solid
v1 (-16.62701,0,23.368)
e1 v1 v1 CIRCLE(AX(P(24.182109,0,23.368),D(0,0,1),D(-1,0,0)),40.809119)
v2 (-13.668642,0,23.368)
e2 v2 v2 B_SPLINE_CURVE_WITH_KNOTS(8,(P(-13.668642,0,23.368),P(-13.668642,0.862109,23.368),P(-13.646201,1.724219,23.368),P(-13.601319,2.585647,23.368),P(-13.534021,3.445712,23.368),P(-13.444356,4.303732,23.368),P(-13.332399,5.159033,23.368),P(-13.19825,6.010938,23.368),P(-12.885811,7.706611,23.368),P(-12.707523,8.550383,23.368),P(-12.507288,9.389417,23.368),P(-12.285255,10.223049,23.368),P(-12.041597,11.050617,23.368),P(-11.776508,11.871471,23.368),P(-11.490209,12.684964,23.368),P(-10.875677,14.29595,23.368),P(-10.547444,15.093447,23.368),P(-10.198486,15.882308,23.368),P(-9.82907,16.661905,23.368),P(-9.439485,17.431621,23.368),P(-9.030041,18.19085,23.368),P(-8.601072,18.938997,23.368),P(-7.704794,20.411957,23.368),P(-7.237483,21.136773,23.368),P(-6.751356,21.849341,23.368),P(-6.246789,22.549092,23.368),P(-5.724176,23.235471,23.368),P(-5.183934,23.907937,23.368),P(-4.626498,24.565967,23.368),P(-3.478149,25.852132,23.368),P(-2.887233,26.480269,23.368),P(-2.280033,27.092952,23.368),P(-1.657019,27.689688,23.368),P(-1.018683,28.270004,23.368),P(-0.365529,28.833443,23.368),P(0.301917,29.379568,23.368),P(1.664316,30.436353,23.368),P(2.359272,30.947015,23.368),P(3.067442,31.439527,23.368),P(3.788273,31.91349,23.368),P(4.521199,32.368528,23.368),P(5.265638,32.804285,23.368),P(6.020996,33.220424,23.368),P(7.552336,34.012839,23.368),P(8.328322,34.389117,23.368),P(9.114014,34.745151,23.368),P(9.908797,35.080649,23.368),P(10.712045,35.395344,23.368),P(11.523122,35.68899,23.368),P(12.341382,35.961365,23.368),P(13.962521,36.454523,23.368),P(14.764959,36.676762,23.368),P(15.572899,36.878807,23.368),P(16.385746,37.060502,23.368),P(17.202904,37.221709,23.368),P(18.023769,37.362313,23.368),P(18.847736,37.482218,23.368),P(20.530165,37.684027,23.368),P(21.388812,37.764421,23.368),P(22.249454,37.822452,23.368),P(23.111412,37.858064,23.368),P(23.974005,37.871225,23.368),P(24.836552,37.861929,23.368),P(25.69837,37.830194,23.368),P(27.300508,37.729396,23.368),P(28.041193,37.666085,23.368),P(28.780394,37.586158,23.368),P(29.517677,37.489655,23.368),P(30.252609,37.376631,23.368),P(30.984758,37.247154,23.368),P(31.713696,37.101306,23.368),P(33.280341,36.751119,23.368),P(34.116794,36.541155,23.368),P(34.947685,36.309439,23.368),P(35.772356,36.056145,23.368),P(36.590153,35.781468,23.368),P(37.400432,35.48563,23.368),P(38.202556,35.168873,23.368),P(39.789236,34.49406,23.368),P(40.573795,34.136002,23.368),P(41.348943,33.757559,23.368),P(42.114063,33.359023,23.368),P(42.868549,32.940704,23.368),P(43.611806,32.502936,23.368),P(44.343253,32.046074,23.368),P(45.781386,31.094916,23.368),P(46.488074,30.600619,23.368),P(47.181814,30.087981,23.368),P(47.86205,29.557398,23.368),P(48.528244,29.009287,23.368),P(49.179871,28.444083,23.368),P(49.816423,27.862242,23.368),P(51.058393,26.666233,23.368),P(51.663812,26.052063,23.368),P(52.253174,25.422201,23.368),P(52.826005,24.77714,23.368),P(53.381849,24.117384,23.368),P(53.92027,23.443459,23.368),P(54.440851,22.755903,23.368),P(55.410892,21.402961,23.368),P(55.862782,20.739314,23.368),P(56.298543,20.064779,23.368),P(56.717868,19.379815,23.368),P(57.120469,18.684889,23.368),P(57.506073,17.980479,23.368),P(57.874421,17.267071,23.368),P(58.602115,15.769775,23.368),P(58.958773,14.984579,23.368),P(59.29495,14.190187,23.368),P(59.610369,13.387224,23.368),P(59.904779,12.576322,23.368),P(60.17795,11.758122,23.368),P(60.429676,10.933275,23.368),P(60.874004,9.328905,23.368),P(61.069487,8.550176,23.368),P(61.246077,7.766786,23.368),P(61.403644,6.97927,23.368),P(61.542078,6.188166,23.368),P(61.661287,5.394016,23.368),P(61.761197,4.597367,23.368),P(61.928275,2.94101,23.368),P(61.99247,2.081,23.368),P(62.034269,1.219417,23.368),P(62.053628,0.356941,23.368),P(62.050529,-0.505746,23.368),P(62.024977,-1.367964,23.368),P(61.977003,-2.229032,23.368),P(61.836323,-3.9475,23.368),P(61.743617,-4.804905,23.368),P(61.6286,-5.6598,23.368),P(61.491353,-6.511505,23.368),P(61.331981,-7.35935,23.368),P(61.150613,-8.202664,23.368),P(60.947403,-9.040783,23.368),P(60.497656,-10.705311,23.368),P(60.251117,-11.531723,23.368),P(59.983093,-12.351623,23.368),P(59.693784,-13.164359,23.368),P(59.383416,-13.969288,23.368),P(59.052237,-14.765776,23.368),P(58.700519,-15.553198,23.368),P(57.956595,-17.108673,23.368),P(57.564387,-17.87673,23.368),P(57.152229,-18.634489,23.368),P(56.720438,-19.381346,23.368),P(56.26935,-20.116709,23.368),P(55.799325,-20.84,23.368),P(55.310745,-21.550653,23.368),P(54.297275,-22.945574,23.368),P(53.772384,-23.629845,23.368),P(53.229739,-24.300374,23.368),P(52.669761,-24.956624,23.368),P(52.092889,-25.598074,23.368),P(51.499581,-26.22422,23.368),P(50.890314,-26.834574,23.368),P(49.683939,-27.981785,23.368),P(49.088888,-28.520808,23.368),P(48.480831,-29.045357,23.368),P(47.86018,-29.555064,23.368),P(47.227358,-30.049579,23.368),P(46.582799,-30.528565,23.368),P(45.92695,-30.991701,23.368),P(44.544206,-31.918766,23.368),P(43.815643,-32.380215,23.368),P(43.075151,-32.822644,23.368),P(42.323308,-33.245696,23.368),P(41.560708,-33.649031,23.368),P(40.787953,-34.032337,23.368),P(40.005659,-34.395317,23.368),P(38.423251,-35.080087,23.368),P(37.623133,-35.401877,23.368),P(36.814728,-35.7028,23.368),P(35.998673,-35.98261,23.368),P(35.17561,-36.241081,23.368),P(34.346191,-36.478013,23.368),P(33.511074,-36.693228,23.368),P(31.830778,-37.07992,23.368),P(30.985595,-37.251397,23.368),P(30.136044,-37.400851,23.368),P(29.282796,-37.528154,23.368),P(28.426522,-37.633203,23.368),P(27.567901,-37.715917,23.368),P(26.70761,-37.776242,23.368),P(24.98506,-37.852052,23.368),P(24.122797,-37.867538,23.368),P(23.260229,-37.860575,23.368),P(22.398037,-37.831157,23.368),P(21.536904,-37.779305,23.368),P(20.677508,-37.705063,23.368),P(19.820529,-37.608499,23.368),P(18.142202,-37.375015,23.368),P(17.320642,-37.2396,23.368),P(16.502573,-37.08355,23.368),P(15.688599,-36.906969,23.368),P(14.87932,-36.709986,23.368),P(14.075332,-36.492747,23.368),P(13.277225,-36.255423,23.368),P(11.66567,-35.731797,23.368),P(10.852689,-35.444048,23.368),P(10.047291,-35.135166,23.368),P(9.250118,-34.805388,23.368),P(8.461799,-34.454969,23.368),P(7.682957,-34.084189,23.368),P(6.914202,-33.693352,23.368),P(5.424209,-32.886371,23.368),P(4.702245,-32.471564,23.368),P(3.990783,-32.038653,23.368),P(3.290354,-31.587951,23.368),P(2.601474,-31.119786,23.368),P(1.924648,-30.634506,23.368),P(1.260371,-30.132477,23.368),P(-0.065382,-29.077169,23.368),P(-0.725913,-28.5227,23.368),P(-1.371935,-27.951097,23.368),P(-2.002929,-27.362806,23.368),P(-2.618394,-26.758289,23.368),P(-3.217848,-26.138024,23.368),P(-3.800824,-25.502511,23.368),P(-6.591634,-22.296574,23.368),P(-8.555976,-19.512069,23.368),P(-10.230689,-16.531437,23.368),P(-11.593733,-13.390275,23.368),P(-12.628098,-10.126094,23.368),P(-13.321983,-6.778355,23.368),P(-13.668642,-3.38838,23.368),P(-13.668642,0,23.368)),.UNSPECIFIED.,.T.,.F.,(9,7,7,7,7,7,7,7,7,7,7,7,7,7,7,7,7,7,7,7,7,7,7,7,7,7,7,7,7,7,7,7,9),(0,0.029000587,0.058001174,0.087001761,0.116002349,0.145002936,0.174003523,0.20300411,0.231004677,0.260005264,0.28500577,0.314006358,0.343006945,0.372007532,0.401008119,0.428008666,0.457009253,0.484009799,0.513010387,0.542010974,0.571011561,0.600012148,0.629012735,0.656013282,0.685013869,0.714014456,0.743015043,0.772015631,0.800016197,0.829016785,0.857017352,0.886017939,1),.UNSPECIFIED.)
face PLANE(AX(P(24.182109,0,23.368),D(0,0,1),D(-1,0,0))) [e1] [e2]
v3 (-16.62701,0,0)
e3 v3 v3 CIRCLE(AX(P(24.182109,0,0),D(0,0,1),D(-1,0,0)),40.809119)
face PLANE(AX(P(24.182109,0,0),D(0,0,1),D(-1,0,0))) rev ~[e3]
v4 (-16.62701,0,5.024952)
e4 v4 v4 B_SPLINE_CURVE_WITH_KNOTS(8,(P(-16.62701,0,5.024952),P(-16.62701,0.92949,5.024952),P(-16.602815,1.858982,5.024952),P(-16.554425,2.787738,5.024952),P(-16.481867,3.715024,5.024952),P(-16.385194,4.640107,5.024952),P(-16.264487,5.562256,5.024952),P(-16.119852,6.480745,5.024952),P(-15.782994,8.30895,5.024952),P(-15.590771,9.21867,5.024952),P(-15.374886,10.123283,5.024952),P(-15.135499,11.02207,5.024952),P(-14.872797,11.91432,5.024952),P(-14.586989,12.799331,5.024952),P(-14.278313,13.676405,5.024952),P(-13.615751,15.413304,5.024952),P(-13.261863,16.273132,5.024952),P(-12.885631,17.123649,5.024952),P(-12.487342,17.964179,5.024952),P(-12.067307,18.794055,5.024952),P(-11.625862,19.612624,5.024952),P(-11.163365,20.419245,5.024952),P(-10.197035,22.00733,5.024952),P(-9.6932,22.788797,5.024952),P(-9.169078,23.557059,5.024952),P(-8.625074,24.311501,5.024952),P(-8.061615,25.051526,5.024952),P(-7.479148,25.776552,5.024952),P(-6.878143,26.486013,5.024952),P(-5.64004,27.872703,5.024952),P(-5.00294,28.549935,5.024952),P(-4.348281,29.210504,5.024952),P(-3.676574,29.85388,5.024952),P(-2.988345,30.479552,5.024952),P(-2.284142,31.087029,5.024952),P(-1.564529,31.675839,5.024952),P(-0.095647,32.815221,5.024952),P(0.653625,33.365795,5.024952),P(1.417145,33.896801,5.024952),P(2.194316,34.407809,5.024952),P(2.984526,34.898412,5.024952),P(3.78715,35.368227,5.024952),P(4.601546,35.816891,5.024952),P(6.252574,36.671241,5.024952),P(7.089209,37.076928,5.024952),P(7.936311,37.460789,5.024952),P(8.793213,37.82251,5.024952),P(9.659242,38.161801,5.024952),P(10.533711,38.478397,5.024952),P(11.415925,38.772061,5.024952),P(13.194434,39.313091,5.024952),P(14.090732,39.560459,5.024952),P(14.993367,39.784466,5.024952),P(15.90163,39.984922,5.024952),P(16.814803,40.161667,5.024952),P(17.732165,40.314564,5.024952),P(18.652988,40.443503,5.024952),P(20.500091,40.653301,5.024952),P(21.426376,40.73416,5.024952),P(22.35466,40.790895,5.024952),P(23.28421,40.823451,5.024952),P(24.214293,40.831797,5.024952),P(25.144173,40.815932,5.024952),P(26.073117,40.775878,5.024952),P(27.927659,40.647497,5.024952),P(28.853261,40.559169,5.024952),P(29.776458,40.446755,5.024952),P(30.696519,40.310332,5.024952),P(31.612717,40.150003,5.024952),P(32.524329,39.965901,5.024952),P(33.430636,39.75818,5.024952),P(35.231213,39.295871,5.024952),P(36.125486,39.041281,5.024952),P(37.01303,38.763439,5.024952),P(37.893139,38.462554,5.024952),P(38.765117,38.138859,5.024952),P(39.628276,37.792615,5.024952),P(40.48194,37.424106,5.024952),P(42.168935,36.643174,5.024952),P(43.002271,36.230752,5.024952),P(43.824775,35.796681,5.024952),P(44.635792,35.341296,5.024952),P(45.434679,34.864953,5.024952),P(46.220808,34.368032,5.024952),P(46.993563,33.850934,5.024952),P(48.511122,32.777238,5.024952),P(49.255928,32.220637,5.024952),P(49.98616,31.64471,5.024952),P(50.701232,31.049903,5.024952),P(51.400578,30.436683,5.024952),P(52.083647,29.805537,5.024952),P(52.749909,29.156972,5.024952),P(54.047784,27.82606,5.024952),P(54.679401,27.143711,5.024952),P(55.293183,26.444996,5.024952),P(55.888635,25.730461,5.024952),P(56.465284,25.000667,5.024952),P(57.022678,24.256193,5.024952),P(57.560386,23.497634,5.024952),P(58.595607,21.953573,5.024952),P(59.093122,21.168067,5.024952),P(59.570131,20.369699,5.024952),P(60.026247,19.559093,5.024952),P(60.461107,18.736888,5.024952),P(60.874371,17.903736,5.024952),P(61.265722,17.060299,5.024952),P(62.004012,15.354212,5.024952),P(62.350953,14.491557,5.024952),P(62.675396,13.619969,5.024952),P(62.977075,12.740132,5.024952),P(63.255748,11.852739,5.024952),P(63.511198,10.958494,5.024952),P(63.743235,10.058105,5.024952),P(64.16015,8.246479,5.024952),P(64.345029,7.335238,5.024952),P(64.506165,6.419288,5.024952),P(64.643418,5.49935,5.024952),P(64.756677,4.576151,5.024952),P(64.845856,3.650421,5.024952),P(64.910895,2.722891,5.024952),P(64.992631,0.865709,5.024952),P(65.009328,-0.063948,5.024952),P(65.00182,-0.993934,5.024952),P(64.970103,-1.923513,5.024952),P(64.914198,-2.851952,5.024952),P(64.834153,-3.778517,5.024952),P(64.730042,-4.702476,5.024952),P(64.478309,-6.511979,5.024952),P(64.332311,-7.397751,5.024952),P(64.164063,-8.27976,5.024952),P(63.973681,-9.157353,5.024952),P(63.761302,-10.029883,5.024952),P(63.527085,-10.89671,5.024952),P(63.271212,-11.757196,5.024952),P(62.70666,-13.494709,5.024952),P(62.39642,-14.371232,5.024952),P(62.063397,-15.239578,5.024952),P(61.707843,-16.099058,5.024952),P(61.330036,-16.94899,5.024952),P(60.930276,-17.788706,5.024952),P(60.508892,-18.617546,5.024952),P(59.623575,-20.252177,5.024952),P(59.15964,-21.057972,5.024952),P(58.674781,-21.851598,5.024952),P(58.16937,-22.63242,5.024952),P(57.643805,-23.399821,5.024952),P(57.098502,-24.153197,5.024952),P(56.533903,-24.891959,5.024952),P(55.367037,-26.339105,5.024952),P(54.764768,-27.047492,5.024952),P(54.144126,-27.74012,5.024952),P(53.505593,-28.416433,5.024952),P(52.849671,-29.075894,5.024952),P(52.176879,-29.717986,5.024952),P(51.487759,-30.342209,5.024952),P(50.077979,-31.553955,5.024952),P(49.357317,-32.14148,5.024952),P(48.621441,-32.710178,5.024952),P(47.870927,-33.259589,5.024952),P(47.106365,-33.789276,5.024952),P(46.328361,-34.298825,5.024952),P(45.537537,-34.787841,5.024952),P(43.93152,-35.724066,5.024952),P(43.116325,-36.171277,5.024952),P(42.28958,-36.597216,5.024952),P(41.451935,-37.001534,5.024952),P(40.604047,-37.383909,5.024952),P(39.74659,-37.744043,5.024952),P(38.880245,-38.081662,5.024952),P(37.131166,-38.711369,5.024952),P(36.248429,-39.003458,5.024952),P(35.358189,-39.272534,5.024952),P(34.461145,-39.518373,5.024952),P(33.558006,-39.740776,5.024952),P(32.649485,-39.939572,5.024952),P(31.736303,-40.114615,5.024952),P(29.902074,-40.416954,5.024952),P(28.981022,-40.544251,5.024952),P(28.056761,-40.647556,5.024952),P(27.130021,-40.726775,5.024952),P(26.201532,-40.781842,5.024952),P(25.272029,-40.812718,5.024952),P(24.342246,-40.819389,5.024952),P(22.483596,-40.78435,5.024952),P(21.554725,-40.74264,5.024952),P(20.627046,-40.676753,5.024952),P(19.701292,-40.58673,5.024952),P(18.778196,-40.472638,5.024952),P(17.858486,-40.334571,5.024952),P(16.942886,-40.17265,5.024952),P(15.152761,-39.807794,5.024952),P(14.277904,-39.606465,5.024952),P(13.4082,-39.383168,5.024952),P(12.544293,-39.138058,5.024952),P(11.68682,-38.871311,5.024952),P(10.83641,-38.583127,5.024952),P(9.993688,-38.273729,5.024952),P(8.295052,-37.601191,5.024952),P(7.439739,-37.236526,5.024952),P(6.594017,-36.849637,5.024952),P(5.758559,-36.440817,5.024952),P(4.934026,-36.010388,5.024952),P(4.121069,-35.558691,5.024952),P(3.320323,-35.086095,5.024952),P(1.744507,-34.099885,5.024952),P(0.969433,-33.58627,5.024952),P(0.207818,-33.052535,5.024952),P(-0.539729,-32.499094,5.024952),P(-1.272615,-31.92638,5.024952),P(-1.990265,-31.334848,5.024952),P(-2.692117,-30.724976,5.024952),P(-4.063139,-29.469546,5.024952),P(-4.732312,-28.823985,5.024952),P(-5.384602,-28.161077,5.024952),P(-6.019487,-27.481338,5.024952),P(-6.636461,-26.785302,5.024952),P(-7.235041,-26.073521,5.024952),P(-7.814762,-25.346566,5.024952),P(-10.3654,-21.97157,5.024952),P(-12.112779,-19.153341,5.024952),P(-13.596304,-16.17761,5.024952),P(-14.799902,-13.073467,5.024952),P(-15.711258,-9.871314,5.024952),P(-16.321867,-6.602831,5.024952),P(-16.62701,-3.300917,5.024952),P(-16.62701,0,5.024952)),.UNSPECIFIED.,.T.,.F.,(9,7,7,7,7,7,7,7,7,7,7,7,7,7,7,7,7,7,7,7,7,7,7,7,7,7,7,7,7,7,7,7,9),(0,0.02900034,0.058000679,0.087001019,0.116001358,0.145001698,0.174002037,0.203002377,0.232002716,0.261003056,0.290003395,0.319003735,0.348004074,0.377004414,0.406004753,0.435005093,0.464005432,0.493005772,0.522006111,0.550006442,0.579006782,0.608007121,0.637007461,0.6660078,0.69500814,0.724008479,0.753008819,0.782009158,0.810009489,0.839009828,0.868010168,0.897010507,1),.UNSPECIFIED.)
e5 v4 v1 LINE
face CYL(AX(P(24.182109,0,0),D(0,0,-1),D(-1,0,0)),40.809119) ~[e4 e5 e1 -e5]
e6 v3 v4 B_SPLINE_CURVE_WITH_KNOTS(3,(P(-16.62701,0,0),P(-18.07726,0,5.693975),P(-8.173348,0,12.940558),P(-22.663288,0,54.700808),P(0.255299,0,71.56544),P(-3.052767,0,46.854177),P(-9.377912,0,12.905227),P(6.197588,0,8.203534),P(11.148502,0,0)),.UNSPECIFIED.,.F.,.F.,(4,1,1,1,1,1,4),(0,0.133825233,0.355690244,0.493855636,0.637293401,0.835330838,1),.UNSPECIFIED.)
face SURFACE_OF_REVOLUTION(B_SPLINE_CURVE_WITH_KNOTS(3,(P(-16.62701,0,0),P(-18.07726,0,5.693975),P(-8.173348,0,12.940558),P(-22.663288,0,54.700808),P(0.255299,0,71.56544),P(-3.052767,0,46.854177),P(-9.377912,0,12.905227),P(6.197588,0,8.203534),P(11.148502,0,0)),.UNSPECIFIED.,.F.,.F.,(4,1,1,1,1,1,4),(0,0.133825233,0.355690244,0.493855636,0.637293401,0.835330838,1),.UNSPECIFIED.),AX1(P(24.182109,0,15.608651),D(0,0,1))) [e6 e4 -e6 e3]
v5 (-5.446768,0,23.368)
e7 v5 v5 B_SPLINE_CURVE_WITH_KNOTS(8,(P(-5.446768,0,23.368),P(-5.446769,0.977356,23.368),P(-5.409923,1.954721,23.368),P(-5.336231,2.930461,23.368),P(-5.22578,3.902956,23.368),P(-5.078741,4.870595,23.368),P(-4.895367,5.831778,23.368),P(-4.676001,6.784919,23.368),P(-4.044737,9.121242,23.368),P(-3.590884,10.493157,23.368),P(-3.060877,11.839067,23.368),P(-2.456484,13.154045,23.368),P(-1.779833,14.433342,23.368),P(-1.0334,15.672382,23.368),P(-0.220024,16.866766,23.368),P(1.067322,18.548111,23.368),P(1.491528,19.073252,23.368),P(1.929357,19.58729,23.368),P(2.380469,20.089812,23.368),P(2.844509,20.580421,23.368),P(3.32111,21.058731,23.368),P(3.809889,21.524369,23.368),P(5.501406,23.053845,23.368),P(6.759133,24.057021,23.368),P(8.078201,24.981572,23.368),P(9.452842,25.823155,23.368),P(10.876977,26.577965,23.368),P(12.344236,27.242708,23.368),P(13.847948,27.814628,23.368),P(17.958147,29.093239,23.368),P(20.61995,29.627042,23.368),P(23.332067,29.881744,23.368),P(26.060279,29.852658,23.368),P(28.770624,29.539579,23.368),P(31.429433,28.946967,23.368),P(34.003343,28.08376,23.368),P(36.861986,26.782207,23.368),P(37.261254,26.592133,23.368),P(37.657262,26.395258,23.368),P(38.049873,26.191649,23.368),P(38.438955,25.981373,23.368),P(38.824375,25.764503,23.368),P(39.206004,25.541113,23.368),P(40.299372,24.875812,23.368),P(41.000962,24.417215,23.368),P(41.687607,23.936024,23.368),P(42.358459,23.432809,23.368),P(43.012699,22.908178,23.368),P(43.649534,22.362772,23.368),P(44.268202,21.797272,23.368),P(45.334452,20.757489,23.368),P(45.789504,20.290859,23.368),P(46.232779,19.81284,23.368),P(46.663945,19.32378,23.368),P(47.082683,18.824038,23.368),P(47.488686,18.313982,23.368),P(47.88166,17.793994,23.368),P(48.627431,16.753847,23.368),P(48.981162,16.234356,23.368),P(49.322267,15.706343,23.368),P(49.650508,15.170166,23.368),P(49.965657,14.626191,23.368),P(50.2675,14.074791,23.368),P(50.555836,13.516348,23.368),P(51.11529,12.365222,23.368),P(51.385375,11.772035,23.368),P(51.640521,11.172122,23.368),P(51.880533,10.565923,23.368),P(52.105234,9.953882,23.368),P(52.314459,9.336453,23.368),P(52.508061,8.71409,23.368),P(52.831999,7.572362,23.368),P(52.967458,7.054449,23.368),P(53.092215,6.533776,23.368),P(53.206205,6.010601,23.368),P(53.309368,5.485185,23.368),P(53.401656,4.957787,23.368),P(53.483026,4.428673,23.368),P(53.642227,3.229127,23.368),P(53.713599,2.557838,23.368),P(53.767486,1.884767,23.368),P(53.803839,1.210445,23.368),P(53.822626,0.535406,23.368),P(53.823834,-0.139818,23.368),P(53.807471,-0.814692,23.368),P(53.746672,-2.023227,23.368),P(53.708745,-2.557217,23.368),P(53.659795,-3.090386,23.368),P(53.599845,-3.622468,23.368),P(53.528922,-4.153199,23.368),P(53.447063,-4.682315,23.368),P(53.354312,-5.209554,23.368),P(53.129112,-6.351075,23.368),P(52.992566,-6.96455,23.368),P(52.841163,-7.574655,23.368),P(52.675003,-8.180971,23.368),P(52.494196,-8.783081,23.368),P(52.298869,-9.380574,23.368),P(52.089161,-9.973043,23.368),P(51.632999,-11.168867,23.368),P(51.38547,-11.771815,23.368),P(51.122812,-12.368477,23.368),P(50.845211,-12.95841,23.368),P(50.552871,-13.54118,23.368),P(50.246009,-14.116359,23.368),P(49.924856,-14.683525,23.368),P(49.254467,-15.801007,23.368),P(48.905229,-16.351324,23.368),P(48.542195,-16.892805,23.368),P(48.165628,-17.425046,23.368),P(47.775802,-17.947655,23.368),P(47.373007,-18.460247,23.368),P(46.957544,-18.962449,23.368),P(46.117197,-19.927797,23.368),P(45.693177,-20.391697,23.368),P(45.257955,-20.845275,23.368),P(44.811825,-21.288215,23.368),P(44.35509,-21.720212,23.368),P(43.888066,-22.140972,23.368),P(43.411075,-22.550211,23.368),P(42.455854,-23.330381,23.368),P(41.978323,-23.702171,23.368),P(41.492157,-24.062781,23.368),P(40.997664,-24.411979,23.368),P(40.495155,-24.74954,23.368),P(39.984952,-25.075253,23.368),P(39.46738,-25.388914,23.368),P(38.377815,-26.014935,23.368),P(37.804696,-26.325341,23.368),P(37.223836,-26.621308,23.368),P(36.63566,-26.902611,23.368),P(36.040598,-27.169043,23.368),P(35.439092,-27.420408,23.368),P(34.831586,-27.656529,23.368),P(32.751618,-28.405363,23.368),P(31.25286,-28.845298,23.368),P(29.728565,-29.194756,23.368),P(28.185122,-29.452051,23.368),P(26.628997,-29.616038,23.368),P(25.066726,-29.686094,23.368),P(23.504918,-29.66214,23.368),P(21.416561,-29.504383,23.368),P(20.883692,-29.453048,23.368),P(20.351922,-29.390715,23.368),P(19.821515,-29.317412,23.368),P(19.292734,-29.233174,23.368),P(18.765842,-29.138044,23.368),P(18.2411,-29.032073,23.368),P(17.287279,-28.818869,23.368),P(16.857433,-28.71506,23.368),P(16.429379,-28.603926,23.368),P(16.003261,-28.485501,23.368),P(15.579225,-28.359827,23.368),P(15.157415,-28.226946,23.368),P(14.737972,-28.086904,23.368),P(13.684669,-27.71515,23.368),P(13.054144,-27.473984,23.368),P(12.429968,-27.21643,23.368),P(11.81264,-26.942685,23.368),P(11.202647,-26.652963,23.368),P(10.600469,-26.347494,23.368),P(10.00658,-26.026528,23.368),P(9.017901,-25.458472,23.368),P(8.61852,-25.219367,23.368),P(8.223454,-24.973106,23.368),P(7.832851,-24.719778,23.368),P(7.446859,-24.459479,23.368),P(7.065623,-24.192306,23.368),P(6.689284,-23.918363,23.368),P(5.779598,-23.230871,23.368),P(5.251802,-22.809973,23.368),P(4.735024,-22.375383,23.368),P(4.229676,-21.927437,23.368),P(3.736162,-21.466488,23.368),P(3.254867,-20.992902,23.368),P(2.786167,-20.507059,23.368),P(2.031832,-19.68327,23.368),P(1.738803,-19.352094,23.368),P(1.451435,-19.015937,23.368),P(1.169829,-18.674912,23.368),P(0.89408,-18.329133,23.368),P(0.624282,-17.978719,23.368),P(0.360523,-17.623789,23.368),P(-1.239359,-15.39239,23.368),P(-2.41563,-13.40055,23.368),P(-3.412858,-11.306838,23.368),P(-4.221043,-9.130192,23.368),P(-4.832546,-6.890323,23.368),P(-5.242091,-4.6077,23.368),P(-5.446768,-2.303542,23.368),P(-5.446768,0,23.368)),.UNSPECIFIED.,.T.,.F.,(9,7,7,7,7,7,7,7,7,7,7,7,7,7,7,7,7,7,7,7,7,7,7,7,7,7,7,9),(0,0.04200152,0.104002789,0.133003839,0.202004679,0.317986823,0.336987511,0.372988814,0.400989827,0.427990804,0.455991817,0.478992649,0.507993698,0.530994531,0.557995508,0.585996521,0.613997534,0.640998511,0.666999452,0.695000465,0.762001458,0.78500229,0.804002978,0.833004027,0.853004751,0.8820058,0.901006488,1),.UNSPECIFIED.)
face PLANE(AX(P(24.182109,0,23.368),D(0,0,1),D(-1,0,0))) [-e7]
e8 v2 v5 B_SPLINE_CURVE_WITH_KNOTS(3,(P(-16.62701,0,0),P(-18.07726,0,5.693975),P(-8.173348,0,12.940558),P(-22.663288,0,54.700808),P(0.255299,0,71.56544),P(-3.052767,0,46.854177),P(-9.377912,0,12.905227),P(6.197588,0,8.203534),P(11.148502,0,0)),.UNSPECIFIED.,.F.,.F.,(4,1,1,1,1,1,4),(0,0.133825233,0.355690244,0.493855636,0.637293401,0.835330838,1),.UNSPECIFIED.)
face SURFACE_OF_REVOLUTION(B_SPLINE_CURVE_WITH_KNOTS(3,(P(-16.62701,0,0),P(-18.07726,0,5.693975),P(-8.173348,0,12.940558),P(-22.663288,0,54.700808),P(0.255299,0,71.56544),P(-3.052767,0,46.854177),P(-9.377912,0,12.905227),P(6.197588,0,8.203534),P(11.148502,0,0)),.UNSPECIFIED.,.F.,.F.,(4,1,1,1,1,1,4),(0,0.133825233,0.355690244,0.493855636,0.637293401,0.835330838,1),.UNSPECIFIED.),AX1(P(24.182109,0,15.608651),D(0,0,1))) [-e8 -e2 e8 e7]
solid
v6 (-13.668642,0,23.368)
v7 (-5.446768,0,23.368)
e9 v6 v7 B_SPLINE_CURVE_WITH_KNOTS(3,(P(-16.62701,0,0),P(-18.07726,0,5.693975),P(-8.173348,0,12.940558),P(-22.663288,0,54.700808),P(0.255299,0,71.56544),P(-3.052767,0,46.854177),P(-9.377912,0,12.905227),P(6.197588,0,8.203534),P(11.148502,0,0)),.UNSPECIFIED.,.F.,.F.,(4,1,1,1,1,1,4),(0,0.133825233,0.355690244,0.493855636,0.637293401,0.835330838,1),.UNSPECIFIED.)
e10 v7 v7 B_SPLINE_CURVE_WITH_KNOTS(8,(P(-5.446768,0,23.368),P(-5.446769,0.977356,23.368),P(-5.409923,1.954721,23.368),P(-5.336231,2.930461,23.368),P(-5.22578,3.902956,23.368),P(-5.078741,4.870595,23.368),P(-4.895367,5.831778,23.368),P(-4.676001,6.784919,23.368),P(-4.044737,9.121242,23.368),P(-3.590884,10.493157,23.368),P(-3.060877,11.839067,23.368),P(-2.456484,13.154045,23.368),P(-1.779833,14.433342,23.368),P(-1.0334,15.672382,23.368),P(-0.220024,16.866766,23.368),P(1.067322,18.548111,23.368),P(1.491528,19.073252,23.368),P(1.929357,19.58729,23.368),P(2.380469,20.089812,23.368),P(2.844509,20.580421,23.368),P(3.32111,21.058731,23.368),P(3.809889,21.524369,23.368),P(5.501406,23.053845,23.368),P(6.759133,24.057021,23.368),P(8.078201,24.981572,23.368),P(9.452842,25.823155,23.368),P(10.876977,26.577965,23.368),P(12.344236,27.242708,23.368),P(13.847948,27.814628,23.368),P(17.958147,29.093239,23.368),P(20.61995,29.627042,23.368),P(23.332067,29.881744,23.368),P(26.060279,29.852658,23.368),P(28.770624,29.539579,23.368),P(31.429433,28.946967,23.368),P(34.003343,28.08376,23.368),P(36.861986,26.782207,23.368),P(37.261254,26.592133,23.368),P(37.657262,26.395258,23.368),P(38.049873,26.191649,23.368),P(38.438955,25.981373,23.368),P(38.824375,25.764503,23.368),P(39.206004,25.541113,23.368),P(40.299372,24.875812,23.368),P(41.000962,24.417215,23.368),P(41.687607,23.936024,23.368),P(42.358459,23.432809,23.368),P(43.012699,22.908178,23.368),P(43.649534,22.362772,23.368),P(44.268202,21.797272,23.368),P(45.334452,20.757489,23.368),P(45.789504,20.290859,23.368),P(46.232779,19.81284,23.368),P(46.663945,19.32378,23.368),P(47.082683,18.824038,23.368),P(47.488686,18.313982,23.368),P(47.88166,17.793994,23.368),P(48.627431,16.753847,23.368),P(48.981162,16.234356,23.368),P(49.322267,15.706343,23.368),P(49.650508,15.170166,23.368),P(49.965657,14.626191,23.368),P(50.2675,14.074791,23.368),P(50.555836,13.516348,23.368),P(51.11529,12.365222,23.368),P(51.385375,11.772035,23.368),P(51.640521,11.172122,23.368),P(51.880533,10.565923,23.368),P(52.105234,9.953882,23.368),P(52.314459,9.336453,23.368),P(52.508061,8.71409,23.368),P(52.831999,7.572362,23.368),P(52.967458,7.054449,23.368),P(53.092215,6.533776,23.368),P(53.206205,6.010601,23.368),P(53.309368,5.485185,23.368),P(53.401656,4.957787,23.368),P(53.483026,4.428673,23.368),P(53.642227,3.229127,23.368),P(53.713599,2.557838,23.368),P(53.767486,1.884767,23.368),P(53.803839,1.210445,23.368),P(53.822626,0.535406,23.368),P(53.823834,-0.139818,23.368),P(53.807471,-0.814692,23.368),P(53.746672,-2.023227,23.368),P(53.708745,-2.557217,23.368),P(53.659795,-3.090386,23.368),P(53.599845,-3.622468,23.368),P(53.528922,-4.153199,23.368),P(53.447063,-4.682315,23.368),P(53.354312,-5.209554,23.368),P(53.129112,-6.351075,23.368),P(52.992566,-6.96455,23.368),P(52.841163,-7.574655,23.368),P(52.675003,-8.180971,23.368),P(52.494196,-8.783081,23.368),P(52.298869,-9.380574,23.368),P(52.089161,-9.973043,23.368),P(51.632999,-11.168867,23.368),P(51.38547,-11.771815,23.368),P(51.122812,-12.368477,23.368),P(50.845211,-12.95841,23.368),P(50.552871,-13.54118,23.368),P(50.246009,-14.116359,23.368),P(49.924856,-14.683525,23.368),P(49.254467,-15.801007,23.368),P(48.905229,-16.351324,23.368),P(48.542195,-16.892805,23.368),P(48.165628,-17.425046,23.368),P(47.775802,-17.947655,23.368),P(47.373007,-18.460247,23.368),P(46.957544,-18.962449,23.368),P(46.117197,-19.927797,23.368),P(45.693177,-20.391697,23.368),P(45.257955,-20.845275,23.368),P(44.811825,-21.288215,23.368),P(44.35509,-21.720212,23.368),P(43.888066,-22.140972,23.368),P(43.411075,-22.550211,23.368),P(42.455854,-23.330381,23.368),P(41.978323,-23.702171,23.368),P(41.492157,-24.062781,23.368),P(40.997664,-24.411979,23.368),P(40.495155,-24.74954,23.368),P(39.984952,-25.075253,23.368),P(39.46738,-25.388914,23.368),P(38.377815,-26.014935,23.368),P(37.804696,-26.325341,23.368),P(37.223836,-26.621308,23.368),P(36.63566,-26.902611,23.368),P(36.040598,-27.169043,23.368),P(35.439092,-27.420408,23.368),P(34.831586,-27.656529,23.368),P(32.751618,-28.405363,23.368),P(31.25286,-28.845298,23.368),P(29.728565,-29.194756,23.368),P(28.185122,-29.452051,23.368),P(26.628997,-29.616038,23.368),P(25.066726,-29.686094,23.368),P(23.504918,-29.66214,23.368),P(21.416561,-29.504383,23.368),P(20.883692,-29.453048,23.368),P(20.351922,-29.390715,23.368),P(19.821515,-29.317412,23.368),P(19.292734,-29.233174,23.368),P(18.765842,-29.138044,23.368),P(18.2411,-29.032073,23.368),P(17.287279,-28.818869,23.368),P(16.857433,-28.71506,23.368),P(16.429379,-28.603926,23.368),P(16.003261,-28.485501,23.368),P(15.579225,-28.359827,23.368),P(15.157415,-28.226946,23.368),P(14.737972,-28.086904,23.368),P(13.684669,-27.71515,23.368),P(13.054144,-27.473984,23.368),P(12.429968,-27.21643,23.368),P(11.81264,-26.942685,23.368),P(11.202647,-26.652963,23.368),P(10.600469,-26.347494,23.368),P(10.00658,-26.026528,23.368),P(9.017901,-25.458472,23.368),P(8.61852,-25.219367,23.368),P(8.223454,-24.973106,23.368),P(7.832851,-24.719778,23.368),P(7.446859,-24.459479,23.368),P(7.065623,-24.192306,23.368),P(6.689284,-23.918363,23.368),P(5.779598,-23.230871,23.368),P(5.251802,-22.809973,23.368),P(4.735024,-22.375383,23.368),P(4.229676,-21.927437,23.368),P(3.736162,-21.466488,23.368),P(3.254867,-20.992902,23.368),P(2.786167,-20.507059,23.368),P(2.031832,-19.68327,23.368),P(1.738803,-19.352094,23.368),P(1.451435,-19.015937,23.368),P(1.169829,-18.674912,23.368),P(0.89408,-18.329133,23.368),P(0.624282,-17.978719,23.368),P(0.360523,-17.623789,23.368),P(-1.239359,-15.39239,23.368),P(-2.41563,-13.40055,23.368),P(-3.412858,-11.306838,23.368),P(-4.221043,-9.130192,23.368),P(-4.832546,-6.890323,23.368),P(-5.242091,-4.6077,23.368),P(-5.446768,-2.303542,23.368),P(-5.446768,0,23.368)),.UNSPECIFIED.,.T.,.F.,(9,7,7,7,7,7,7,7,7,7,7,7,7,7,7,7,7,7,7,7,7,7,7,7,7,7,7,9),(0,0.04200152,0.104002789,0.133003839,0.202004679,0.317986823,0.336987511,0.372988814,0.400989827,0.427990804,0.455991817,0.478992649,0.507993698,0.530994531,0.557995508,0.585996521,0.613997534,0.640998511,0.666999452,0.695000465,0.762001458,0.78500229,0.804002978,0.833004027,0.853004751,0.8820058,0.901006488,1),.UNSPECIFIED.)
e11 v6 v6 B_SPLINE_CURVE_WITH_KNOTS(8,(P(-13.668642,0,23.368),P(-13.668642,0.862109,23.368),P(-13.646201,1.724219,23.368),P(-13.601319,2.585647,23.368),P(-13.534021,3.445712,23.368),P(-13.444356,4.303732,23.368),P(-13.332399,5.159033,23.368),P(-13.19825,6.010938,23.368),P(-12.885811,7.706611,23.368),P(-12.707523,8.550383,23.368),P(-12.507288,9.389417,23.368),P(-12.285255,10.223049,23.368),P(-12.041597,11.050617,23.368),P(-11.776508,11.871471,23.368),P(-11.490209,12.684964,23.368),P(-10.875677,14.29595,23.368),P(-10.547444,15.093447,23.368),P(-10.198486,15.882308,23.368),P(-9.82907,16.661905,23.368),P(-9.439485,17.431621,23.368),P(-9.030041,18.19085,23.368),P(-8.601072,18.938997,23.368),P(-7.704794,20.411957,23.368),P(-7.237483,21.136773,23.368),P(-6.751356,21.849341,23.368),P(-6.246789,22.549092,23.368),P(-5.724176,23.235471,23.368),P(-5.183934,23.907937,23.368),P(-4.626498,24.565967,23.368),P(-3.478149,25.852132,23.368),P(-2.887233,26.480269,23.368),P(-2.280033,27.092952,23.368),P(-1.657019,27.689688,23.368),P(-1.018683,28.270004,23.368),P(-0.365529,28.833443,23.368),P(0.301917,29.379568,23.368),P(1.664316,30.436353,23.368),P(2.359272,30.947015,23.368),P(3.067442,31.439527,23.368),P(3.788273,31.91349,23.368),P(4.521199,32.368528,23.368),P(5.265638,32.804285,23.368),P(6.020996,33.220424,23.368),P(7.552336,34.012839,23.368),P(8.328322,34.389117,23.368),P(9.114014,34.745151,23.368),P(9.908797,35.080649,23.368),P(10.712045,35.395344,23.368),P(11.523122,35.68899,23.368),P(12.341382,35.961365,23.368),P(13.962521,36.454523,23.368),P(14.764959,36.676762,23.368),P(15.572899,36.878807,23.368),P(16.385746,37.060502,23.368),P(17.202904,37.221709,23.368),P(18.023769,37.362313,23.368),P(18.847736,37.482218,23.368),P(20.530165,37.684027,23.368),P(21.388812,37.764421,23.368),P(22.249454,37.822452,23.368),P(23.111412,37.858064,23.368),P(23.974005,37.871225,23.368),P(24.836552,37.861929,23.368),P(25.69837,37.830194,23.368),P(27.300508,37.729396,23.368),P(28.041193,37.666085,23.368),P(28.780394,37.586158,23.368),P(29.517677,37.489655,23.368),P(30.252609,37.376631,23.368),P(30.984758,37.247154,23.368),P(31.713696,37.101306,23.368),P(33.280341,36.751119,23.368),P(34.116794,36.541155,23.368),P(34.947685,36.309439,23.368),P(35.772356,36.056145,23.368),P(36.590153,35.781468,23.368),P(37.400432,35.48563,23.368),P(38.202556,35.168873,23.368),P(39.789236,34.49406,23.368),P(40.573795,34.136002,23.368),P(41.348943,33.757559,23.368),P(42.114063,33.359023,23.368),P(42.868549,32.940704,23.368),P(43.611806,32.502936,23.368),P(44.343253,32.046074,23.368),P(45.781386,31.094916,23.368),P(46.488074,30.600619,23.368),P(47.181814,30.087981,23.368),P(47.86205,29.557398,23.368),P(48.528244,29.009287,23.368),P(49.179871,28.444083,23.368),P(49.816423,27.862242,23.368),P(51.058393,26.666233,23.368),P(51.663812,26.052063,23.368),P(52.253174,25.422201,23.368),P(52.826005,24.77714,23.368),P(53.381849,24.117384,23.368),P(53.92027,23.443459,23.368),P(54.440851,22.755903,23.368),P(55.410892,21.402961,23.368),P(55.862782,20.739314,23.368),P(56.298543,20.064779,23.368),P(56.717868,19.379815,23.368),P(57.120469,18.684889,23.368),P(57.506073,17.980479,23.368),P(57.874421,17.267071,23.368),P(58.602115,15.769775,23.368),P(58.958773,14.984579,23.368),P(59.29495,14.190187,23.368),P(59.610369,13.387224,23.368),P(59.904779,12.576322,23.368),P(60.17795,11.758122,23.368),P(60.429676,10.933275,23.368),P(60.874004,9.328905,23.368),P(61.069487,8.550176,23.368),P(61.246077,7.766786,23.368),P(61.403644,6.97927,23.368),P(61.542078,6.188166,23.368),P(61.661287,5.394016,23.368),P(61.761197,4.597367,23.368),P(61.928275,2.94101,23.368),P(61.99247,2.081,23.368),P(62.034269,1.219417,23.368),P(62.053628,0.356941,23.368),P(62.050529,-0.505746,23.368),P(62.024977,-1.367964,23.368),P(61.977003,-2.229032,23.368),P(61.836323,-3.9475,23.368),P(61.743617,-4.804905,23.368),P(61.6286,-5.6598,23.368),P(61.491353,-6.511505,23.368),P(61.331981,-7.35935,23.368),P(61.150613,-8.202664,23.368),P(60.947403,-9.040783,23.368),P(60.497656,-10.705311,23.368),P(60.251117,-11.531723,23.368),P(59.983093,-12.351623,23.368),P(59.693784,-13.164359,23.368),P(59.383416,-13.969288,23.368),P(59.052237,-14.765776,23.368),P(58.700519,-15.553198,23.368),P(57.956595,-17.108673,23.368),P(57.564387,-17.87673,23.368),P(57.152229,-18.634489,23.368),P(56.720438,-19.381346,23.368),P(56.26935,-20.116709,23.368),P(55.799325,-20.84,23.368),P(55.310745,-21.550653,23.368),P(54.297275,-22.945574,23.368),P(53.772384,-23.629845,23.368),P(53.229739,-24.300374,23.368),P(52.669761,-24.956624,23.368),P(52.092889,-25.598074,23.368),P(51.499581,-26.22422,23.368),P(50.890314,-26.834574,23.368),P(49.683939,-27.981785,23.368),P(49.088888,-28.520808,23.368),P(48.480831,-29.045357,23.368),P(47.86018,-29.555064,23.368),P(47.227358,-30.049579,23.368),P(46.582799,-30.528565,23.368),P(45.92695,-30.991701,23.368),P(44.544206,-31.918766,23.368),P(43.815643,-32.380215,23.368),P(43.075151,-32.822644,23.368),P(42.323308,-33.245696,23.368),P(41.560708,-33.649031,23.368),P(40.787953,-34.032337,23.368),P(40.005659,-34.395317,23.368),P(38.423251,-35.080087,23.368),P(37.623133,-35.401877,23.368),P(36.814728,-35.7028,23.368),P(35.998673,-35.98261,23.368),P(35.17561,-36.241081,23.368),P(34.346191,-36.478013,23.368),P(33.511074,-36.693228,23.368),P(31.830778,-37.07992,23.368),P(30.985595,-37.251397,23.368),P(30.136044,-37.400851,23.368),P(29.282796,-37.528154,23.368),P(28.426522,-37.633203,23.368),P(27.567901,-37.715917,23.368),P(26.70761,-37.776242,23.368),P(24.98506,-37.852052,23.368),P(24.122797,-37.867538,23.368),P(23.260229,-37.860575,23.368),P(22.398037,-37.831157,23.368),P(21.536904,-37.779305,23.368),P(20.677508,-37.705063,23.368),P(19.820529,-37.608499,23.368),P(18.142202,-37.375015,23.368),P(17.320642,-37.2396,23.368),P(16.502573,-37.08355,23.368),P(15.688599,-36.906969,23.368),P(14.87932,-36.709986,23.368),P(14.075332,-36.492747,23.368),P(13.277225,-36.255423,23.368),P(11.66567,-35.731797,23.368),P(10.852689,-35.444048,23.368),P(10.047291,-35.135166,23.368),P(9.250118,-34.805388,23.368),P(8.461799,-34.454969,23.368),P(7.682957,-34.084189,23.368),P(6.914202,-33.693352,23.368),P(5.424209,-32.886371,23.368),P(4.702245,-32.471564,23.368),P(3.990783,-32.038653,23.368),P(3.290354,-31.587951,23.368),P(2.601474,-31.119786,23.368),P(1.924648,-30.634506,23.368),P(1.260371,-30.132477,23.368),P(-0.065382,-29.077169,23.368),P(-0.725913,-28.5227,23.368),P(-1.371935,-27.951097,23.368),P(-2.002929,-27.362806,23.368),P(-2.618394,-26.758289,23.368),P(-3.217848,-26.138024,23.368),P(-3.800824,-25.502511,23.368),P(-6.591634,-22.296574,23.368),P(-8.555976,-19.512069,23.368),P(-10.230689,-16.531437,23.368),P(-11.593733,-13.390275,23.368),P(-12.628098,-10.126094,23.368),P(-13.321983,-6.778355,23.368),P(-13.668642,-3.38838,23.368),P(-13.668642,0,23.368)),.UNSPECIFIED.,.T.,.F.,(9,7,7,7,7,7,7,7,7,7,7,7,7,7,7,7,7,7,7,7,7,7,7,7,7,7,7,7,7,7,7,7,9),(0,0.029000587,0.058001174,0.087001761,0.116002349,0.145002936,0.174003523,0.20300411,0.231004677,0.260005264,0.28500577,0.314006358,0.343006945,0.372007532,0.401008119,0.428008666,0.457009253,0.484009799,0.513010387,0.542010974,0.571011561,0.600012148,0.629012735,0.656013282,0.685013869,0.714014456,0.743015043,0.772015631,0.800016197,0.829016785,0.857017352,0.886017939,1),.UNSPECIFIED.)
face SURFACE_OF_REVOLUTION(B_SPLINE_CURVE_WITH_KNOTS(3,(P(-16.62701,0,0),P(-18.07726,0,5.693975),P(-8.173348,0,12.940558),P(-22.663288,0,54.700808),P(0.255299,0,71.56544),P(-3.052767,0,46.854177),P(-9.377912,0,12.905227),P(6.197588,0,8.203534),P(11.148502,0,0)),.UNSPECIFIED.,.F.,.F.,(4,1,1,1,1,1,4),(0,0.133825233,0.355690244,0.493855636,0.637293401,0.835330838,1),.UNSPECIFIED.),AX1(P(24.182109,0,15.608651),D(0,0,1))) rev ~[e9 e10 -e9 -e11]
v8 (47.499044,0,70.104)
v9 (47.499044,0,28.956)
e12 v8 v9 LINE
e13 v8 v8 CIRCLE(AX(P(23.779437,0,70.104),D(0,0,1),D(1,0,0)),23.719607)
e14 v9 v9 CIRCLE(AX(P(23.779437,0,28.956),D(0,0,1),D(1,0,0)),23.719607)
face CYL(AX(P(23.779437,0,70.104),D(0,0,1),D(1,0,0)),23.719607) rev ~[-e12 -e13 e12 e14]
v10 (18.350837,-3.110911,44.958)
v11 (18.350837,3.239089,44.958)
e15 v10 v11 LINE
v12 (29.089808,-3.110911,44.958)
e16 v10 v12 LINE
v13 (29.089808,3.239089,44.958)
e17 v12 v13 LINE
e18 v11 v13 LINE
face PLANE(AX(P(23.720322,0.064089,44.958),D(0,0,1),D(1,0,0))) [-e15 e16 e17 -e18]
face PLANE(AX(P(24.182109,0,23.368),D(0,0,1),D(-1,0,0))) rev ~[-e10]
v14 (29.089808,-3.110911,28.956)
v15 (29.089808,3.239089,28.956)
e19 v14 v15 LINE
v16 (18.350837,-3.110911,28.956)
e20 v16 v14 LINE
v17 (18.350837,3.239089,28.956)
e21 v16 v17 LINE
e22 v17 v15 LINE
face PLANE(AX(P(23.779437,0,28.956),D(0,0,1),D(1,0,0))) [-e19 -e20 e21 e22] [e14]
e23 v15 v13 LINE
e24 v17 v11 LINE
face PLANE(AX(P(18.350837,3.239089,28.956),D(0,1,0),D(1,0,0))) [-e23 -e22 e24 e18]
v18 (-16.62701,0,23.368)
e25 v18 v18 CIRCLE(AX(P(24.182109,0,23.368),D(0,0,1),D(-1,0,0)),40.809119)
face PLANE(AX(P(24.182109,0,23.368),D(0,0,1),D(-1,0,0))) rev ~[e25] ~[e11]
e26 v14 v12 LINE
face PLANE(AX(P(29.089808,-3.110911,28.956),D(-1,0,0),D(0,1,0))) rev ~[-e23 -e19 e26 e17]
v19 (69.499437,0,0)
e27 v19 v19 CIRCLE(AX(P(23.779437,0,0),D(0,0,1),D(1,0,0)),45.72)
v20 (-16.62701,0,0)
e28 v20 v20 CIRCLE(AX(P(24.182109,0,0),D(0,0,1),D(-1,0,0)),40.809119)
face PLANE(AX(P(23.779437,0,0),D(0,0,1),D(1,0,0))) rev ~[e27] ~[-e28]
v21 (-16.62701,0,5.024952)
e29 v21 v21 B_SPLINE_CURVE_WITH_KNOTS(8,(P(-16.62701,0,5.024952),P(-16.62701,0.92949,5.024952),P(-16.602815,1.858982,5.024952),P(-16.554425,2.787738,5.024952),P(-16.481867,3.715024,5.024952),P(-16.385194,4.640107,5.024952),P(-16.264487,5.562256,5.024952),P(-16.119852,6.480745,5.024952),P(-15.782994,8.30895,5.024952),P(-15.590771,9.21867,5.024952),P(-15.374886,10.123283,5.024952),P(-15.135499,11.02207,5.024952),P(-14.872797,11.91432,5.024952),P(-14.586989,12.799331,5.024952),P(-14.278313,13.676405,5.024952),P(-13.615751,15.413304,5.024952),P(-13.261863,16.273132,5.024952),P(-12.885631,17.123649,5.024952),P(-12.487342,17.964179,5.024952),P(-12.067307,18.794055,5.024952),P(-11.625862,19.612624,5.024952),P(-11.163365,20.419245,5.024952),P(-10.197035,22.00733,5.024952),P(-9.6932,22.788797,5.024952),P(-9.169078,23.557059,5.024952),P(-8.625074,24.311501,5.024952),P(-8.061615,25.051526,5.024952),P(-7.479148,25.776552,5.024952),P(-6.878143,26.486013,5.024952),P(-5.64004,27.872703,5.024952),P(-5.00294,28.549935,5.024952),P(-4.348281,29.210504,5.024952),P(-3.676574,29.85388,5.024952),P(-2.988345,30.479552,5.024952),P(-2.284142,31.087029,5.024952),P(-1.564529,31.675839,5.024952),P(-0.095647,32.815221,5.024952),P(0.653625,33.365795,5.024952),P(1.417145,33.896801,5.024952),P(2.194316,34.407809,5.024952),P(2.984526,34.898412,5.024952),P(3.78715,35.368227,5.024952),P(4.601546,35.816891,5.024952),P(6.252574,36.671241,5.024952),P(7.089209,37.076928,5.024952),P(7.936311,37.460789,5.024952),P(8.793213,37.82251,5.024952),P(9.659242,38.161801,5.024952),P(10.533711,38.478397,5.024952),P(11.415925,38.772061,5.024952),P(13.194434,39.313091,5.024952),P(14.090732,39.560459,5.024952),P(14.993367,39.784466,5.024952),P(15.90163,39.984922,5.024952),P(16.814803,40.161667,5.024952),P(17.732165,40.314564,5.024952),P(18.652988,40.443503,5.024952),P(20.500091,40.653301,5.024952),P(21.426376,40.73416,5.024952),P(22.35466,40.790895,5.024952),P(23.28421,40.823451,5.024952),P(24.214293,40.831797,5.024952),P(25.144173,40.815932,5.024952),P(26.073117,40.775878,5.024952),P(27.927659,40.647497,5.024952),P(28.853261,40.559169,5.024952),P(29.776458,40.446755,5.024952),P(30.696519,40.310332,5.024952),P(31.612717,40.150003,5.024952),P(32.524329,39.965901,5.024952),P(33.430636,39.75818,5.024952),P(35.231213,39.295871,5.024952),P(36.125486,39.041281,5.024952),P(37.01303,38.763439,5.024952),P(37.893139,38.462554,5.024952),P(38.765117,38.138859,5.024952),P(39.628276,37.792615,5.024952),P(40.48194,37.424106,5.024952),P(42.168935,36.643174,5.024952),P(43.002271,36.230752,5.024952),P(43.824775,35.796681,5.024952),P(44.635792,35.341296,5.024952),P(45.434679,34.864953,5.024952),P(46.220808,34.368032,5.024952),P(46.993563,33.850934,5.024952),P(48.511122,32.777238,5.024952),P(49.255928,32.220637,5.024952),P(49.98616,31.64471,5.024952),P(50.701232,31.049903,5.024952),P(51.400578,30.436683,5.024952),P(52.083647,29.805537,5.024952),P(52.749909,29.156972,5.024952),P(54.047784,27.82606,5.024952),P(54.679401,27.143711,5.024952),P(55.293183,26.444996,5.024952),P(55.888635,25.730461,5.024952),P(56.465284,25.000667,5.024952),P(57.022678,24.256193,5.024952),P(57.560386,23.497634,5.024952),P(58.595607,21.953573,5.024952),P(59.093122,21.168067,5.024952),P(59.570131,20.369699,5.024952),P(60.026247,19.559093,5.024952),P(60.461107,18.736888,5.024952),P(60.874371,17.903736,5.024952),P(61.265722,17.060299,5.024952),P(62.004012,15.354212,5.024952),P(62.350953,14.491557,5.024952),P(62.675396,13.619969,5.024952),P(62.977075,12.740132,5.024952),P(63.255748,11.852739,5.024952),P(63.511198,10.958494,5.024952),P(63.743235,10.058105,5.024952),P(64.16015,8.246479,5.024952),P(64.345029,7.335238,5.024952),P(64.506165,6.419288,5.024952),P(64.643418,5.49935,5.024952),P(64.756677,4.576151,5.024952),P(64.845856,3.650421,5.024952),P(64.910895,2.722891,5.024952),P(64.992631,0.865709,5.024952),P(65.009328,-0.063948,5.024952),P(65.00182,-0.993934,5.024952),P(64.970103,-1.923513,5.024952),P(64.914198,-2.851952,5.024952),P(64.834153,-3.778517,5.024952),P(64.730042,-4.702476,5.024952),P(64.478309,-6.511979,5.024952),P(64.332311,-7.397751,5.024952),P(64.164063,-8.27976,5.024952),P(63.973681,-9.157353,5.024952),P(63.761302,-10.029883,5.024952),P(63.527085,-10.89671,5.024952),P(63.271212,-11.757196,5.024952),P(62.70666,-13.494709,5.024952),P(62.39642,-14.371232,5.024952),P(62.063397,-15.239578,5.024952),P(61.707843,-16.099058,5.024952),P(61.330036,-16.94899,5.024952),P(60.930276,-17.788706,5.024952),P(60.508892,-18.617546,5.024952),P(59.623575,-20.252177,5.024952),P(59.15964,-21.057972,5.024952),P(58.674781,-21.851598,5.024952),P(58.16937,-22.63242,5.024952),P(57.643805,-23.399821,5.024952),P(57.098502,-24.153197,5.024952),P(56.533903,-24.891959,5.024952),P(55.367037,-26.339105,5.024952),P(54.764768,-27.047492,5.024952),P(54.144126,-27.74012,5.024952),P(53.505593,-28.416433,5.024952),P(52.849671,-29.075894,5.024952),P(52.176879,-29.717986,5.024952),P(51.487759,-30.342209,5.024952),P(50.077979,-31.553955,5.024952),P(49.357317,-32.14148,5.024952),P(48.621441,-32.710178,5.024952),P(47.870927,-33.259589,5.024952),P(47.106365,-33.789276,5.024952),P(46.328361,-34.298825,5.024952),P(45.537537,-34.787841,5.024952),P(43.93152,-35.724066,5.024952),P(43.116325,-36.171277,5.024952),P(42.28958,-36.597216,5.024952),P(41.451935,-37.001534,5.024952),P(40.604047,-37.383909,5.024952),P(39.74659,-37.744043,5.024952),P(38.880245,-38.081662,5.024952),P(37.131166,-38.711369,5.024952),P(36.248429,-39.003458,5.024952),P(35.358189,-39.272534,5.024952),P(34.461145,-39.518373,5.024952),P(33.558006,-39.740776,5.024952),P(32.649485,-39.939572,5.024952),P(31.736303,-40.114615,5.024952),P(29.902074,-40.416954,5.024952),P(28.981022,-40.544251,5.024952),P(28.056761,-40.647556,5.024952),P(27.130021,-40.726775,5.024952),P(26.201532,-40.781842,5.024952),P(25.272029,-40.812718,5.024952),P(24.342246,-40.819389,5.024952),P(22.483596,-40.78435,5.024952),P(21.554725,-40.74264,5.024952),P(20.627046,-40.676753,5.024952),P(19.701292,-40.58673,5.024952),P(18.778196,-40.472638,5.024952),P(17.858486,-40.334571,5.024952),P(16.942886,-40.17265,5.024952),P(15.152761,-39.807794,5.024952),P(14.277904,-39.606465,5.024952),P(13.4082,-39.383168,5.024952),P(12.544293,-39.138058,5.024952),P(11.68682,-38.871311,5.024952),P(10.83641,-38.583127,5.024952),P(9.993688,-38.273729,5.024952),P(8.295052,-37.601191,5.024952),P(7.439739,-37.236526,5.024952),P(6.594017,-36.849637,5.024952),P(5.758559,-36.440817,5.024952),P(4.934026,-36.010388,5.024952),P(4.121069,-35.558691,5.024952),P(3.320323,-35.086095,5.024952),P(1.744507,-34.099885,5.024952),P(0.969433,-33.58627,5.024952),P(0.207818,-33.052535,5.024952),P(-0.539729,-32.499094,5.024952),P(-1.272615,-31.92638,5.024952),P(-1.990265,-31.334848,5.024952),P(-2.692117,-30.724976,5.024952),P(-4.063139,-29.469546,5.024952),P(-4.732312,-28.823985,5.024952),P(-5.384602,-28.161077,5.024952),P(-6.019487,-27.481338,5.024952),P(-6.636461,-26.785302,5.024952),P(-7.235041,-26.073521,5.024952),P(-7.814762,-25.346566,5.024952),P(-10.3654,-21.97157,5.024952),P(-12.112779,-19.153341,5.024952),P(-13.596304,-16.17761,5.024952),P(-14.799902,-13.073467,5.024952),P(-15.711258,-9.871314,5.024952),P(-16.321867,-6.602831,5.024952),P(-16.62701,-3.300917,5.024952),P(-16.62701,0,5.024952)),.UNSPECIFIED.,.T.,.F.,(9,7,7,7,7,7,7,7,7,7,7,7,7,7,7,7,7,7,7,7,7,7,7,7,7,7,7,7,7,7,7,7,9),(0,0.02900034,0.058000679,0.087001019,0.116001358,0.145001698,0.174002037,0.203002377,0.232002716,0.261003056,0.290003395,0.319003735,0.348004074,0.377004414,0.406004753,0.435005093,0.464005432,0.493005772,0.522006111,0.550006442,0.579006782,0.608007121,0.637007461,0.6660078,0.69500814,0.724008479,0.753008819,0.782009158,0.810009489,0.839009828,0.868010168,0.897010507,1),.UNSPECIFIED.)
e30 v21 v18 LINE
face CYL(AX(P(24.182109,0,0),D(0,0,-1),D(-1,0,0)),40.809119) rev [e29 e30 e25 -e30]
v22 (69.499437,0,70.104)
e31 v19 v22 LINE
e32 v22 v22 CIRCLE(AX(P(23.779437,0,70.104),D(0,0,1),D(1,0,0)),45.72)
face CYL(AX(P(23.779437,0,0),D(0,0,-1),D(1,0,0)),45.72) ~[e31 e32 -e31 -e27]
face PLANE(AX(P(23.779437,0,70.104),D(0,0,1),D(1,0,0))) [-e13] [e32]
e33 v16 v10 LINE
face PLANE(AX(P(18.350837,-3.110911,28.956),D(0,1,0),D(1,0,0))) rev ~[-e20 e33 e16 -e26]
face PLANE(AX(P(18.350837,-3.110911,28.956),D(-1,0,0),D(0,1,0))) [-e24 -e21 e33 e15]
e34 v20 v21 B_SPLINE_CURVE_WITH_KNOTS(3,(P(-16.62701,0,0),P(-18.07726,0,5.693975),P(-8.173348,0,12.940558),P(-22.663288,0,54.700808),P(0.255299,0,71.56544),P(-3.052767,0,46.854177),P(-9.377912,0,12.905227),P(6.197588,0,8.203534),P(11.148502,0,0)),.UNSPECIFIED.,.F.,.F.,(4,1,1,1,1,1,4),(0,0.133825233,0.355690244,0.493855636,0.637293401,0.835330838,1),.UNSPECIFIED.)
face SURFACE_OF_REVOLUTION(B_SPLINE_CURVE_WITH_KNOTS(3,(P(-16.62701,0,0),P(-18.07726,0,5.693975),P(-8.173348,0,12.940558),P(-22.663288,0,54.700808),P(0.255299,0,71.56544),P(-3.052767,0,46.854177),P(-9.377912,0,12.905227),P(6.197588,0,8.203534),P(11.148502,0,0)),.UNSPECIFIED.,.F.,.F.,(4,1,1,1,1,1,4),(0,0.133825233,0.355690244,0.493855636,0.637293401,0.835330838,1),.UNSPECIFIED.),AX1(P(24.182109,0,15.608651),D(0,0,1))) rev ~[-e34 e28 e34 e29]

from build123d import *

# Parameters (mm, degrees)
F2_DEPTH  = 23.368
F3_R      = 19.05
F4_DEPTH  = 23.368
F5_R      = 45.72
F7_DEPTH  = 70.104
F9_R      = 23.719607247
F10_DEPTH = 41.148
F11_W     = 10.7389709225
F11_H     = 6.35
F12_DEPTH = 16.002


with BuildPart() as f1:
    # F0 (on Front) → F1 (revolve)
    with BuildSketch(Plane.XZ):
        with BuildLine():
            add(Edge.make_bspline(
                [(-16.627009958, 0), (-18.0772602361, 5.6939754485), (-8.1733478633, 12.9405576476), (-22.6632878538, 54.7008080209), (0.2552988546, 71.565440241), (-3.0527665968, 46.8541765253), (-9.3779117115, 12.9052271011), (6.197588378, 8.2035341), (11.1485021189, 0)],
                knots=[0, 0, 0, 0, 0.1338252326, 0.3556902436, 0.4938556362, 0.6372934006, 0.8353308376, 1, 1, 1, 1], degree=3))
            Line((-16.627009958, 0), (11.1485021189, 0))
        make_face()
    revolve(axis=Axis((24.1821091622, 0, 15.6086506322), (0, 0, 1)))

    # F2 (add): a face of the model
    f2_faces = [f1.faces().sort_by_distance(p)[0] for p in [
        (38.3699724001, 0, 0),
    ]]
    extrude(f2_faces, amount=-F2_DEPTH)

    # F3 (on Top) → F4 (join, through all)
    with BuildSketch(Plane.XY):
        with Locations((26.25008593, 0)):
            Circle(F3_R)
    extrude(amount=F4_DEPTH)


with BuildPart() as f6_1:
    # F6: copy of F1
    add(f1.part)


with BuildPart() as f7:
    # F5 (on Top) → F7 (new body)
    with BuildSketch(Plane.XY):
        with Locations((23.779436988, 0)):
            Circle(F5_R)
    extrude(amount=F7_DEPTH)

    # F8: cut F1
    add(f1.part, mode=Mode.SUBTRACT)

    # F9 (on face) → F10 (cut)
    with BuildSketch(Plane.XY.offset(70.104)):
        with Locations((23.779436988, 0)):
            Circle(F9_R)
    extrude(amount=-F10_DEPTH, mode=Mode.SUBTRACT)

    # F11 (on face) → F12 (join)
    with BuildSketch(Plane.XY.offset(28.956)):
        with Locations((23.7203221768, 0.0640891958)):
            Rectangle(F11_W, F11_H)
    extrude(amount=F12_DEPTH)


solid = Compound([f6_1.part, f7.part])
